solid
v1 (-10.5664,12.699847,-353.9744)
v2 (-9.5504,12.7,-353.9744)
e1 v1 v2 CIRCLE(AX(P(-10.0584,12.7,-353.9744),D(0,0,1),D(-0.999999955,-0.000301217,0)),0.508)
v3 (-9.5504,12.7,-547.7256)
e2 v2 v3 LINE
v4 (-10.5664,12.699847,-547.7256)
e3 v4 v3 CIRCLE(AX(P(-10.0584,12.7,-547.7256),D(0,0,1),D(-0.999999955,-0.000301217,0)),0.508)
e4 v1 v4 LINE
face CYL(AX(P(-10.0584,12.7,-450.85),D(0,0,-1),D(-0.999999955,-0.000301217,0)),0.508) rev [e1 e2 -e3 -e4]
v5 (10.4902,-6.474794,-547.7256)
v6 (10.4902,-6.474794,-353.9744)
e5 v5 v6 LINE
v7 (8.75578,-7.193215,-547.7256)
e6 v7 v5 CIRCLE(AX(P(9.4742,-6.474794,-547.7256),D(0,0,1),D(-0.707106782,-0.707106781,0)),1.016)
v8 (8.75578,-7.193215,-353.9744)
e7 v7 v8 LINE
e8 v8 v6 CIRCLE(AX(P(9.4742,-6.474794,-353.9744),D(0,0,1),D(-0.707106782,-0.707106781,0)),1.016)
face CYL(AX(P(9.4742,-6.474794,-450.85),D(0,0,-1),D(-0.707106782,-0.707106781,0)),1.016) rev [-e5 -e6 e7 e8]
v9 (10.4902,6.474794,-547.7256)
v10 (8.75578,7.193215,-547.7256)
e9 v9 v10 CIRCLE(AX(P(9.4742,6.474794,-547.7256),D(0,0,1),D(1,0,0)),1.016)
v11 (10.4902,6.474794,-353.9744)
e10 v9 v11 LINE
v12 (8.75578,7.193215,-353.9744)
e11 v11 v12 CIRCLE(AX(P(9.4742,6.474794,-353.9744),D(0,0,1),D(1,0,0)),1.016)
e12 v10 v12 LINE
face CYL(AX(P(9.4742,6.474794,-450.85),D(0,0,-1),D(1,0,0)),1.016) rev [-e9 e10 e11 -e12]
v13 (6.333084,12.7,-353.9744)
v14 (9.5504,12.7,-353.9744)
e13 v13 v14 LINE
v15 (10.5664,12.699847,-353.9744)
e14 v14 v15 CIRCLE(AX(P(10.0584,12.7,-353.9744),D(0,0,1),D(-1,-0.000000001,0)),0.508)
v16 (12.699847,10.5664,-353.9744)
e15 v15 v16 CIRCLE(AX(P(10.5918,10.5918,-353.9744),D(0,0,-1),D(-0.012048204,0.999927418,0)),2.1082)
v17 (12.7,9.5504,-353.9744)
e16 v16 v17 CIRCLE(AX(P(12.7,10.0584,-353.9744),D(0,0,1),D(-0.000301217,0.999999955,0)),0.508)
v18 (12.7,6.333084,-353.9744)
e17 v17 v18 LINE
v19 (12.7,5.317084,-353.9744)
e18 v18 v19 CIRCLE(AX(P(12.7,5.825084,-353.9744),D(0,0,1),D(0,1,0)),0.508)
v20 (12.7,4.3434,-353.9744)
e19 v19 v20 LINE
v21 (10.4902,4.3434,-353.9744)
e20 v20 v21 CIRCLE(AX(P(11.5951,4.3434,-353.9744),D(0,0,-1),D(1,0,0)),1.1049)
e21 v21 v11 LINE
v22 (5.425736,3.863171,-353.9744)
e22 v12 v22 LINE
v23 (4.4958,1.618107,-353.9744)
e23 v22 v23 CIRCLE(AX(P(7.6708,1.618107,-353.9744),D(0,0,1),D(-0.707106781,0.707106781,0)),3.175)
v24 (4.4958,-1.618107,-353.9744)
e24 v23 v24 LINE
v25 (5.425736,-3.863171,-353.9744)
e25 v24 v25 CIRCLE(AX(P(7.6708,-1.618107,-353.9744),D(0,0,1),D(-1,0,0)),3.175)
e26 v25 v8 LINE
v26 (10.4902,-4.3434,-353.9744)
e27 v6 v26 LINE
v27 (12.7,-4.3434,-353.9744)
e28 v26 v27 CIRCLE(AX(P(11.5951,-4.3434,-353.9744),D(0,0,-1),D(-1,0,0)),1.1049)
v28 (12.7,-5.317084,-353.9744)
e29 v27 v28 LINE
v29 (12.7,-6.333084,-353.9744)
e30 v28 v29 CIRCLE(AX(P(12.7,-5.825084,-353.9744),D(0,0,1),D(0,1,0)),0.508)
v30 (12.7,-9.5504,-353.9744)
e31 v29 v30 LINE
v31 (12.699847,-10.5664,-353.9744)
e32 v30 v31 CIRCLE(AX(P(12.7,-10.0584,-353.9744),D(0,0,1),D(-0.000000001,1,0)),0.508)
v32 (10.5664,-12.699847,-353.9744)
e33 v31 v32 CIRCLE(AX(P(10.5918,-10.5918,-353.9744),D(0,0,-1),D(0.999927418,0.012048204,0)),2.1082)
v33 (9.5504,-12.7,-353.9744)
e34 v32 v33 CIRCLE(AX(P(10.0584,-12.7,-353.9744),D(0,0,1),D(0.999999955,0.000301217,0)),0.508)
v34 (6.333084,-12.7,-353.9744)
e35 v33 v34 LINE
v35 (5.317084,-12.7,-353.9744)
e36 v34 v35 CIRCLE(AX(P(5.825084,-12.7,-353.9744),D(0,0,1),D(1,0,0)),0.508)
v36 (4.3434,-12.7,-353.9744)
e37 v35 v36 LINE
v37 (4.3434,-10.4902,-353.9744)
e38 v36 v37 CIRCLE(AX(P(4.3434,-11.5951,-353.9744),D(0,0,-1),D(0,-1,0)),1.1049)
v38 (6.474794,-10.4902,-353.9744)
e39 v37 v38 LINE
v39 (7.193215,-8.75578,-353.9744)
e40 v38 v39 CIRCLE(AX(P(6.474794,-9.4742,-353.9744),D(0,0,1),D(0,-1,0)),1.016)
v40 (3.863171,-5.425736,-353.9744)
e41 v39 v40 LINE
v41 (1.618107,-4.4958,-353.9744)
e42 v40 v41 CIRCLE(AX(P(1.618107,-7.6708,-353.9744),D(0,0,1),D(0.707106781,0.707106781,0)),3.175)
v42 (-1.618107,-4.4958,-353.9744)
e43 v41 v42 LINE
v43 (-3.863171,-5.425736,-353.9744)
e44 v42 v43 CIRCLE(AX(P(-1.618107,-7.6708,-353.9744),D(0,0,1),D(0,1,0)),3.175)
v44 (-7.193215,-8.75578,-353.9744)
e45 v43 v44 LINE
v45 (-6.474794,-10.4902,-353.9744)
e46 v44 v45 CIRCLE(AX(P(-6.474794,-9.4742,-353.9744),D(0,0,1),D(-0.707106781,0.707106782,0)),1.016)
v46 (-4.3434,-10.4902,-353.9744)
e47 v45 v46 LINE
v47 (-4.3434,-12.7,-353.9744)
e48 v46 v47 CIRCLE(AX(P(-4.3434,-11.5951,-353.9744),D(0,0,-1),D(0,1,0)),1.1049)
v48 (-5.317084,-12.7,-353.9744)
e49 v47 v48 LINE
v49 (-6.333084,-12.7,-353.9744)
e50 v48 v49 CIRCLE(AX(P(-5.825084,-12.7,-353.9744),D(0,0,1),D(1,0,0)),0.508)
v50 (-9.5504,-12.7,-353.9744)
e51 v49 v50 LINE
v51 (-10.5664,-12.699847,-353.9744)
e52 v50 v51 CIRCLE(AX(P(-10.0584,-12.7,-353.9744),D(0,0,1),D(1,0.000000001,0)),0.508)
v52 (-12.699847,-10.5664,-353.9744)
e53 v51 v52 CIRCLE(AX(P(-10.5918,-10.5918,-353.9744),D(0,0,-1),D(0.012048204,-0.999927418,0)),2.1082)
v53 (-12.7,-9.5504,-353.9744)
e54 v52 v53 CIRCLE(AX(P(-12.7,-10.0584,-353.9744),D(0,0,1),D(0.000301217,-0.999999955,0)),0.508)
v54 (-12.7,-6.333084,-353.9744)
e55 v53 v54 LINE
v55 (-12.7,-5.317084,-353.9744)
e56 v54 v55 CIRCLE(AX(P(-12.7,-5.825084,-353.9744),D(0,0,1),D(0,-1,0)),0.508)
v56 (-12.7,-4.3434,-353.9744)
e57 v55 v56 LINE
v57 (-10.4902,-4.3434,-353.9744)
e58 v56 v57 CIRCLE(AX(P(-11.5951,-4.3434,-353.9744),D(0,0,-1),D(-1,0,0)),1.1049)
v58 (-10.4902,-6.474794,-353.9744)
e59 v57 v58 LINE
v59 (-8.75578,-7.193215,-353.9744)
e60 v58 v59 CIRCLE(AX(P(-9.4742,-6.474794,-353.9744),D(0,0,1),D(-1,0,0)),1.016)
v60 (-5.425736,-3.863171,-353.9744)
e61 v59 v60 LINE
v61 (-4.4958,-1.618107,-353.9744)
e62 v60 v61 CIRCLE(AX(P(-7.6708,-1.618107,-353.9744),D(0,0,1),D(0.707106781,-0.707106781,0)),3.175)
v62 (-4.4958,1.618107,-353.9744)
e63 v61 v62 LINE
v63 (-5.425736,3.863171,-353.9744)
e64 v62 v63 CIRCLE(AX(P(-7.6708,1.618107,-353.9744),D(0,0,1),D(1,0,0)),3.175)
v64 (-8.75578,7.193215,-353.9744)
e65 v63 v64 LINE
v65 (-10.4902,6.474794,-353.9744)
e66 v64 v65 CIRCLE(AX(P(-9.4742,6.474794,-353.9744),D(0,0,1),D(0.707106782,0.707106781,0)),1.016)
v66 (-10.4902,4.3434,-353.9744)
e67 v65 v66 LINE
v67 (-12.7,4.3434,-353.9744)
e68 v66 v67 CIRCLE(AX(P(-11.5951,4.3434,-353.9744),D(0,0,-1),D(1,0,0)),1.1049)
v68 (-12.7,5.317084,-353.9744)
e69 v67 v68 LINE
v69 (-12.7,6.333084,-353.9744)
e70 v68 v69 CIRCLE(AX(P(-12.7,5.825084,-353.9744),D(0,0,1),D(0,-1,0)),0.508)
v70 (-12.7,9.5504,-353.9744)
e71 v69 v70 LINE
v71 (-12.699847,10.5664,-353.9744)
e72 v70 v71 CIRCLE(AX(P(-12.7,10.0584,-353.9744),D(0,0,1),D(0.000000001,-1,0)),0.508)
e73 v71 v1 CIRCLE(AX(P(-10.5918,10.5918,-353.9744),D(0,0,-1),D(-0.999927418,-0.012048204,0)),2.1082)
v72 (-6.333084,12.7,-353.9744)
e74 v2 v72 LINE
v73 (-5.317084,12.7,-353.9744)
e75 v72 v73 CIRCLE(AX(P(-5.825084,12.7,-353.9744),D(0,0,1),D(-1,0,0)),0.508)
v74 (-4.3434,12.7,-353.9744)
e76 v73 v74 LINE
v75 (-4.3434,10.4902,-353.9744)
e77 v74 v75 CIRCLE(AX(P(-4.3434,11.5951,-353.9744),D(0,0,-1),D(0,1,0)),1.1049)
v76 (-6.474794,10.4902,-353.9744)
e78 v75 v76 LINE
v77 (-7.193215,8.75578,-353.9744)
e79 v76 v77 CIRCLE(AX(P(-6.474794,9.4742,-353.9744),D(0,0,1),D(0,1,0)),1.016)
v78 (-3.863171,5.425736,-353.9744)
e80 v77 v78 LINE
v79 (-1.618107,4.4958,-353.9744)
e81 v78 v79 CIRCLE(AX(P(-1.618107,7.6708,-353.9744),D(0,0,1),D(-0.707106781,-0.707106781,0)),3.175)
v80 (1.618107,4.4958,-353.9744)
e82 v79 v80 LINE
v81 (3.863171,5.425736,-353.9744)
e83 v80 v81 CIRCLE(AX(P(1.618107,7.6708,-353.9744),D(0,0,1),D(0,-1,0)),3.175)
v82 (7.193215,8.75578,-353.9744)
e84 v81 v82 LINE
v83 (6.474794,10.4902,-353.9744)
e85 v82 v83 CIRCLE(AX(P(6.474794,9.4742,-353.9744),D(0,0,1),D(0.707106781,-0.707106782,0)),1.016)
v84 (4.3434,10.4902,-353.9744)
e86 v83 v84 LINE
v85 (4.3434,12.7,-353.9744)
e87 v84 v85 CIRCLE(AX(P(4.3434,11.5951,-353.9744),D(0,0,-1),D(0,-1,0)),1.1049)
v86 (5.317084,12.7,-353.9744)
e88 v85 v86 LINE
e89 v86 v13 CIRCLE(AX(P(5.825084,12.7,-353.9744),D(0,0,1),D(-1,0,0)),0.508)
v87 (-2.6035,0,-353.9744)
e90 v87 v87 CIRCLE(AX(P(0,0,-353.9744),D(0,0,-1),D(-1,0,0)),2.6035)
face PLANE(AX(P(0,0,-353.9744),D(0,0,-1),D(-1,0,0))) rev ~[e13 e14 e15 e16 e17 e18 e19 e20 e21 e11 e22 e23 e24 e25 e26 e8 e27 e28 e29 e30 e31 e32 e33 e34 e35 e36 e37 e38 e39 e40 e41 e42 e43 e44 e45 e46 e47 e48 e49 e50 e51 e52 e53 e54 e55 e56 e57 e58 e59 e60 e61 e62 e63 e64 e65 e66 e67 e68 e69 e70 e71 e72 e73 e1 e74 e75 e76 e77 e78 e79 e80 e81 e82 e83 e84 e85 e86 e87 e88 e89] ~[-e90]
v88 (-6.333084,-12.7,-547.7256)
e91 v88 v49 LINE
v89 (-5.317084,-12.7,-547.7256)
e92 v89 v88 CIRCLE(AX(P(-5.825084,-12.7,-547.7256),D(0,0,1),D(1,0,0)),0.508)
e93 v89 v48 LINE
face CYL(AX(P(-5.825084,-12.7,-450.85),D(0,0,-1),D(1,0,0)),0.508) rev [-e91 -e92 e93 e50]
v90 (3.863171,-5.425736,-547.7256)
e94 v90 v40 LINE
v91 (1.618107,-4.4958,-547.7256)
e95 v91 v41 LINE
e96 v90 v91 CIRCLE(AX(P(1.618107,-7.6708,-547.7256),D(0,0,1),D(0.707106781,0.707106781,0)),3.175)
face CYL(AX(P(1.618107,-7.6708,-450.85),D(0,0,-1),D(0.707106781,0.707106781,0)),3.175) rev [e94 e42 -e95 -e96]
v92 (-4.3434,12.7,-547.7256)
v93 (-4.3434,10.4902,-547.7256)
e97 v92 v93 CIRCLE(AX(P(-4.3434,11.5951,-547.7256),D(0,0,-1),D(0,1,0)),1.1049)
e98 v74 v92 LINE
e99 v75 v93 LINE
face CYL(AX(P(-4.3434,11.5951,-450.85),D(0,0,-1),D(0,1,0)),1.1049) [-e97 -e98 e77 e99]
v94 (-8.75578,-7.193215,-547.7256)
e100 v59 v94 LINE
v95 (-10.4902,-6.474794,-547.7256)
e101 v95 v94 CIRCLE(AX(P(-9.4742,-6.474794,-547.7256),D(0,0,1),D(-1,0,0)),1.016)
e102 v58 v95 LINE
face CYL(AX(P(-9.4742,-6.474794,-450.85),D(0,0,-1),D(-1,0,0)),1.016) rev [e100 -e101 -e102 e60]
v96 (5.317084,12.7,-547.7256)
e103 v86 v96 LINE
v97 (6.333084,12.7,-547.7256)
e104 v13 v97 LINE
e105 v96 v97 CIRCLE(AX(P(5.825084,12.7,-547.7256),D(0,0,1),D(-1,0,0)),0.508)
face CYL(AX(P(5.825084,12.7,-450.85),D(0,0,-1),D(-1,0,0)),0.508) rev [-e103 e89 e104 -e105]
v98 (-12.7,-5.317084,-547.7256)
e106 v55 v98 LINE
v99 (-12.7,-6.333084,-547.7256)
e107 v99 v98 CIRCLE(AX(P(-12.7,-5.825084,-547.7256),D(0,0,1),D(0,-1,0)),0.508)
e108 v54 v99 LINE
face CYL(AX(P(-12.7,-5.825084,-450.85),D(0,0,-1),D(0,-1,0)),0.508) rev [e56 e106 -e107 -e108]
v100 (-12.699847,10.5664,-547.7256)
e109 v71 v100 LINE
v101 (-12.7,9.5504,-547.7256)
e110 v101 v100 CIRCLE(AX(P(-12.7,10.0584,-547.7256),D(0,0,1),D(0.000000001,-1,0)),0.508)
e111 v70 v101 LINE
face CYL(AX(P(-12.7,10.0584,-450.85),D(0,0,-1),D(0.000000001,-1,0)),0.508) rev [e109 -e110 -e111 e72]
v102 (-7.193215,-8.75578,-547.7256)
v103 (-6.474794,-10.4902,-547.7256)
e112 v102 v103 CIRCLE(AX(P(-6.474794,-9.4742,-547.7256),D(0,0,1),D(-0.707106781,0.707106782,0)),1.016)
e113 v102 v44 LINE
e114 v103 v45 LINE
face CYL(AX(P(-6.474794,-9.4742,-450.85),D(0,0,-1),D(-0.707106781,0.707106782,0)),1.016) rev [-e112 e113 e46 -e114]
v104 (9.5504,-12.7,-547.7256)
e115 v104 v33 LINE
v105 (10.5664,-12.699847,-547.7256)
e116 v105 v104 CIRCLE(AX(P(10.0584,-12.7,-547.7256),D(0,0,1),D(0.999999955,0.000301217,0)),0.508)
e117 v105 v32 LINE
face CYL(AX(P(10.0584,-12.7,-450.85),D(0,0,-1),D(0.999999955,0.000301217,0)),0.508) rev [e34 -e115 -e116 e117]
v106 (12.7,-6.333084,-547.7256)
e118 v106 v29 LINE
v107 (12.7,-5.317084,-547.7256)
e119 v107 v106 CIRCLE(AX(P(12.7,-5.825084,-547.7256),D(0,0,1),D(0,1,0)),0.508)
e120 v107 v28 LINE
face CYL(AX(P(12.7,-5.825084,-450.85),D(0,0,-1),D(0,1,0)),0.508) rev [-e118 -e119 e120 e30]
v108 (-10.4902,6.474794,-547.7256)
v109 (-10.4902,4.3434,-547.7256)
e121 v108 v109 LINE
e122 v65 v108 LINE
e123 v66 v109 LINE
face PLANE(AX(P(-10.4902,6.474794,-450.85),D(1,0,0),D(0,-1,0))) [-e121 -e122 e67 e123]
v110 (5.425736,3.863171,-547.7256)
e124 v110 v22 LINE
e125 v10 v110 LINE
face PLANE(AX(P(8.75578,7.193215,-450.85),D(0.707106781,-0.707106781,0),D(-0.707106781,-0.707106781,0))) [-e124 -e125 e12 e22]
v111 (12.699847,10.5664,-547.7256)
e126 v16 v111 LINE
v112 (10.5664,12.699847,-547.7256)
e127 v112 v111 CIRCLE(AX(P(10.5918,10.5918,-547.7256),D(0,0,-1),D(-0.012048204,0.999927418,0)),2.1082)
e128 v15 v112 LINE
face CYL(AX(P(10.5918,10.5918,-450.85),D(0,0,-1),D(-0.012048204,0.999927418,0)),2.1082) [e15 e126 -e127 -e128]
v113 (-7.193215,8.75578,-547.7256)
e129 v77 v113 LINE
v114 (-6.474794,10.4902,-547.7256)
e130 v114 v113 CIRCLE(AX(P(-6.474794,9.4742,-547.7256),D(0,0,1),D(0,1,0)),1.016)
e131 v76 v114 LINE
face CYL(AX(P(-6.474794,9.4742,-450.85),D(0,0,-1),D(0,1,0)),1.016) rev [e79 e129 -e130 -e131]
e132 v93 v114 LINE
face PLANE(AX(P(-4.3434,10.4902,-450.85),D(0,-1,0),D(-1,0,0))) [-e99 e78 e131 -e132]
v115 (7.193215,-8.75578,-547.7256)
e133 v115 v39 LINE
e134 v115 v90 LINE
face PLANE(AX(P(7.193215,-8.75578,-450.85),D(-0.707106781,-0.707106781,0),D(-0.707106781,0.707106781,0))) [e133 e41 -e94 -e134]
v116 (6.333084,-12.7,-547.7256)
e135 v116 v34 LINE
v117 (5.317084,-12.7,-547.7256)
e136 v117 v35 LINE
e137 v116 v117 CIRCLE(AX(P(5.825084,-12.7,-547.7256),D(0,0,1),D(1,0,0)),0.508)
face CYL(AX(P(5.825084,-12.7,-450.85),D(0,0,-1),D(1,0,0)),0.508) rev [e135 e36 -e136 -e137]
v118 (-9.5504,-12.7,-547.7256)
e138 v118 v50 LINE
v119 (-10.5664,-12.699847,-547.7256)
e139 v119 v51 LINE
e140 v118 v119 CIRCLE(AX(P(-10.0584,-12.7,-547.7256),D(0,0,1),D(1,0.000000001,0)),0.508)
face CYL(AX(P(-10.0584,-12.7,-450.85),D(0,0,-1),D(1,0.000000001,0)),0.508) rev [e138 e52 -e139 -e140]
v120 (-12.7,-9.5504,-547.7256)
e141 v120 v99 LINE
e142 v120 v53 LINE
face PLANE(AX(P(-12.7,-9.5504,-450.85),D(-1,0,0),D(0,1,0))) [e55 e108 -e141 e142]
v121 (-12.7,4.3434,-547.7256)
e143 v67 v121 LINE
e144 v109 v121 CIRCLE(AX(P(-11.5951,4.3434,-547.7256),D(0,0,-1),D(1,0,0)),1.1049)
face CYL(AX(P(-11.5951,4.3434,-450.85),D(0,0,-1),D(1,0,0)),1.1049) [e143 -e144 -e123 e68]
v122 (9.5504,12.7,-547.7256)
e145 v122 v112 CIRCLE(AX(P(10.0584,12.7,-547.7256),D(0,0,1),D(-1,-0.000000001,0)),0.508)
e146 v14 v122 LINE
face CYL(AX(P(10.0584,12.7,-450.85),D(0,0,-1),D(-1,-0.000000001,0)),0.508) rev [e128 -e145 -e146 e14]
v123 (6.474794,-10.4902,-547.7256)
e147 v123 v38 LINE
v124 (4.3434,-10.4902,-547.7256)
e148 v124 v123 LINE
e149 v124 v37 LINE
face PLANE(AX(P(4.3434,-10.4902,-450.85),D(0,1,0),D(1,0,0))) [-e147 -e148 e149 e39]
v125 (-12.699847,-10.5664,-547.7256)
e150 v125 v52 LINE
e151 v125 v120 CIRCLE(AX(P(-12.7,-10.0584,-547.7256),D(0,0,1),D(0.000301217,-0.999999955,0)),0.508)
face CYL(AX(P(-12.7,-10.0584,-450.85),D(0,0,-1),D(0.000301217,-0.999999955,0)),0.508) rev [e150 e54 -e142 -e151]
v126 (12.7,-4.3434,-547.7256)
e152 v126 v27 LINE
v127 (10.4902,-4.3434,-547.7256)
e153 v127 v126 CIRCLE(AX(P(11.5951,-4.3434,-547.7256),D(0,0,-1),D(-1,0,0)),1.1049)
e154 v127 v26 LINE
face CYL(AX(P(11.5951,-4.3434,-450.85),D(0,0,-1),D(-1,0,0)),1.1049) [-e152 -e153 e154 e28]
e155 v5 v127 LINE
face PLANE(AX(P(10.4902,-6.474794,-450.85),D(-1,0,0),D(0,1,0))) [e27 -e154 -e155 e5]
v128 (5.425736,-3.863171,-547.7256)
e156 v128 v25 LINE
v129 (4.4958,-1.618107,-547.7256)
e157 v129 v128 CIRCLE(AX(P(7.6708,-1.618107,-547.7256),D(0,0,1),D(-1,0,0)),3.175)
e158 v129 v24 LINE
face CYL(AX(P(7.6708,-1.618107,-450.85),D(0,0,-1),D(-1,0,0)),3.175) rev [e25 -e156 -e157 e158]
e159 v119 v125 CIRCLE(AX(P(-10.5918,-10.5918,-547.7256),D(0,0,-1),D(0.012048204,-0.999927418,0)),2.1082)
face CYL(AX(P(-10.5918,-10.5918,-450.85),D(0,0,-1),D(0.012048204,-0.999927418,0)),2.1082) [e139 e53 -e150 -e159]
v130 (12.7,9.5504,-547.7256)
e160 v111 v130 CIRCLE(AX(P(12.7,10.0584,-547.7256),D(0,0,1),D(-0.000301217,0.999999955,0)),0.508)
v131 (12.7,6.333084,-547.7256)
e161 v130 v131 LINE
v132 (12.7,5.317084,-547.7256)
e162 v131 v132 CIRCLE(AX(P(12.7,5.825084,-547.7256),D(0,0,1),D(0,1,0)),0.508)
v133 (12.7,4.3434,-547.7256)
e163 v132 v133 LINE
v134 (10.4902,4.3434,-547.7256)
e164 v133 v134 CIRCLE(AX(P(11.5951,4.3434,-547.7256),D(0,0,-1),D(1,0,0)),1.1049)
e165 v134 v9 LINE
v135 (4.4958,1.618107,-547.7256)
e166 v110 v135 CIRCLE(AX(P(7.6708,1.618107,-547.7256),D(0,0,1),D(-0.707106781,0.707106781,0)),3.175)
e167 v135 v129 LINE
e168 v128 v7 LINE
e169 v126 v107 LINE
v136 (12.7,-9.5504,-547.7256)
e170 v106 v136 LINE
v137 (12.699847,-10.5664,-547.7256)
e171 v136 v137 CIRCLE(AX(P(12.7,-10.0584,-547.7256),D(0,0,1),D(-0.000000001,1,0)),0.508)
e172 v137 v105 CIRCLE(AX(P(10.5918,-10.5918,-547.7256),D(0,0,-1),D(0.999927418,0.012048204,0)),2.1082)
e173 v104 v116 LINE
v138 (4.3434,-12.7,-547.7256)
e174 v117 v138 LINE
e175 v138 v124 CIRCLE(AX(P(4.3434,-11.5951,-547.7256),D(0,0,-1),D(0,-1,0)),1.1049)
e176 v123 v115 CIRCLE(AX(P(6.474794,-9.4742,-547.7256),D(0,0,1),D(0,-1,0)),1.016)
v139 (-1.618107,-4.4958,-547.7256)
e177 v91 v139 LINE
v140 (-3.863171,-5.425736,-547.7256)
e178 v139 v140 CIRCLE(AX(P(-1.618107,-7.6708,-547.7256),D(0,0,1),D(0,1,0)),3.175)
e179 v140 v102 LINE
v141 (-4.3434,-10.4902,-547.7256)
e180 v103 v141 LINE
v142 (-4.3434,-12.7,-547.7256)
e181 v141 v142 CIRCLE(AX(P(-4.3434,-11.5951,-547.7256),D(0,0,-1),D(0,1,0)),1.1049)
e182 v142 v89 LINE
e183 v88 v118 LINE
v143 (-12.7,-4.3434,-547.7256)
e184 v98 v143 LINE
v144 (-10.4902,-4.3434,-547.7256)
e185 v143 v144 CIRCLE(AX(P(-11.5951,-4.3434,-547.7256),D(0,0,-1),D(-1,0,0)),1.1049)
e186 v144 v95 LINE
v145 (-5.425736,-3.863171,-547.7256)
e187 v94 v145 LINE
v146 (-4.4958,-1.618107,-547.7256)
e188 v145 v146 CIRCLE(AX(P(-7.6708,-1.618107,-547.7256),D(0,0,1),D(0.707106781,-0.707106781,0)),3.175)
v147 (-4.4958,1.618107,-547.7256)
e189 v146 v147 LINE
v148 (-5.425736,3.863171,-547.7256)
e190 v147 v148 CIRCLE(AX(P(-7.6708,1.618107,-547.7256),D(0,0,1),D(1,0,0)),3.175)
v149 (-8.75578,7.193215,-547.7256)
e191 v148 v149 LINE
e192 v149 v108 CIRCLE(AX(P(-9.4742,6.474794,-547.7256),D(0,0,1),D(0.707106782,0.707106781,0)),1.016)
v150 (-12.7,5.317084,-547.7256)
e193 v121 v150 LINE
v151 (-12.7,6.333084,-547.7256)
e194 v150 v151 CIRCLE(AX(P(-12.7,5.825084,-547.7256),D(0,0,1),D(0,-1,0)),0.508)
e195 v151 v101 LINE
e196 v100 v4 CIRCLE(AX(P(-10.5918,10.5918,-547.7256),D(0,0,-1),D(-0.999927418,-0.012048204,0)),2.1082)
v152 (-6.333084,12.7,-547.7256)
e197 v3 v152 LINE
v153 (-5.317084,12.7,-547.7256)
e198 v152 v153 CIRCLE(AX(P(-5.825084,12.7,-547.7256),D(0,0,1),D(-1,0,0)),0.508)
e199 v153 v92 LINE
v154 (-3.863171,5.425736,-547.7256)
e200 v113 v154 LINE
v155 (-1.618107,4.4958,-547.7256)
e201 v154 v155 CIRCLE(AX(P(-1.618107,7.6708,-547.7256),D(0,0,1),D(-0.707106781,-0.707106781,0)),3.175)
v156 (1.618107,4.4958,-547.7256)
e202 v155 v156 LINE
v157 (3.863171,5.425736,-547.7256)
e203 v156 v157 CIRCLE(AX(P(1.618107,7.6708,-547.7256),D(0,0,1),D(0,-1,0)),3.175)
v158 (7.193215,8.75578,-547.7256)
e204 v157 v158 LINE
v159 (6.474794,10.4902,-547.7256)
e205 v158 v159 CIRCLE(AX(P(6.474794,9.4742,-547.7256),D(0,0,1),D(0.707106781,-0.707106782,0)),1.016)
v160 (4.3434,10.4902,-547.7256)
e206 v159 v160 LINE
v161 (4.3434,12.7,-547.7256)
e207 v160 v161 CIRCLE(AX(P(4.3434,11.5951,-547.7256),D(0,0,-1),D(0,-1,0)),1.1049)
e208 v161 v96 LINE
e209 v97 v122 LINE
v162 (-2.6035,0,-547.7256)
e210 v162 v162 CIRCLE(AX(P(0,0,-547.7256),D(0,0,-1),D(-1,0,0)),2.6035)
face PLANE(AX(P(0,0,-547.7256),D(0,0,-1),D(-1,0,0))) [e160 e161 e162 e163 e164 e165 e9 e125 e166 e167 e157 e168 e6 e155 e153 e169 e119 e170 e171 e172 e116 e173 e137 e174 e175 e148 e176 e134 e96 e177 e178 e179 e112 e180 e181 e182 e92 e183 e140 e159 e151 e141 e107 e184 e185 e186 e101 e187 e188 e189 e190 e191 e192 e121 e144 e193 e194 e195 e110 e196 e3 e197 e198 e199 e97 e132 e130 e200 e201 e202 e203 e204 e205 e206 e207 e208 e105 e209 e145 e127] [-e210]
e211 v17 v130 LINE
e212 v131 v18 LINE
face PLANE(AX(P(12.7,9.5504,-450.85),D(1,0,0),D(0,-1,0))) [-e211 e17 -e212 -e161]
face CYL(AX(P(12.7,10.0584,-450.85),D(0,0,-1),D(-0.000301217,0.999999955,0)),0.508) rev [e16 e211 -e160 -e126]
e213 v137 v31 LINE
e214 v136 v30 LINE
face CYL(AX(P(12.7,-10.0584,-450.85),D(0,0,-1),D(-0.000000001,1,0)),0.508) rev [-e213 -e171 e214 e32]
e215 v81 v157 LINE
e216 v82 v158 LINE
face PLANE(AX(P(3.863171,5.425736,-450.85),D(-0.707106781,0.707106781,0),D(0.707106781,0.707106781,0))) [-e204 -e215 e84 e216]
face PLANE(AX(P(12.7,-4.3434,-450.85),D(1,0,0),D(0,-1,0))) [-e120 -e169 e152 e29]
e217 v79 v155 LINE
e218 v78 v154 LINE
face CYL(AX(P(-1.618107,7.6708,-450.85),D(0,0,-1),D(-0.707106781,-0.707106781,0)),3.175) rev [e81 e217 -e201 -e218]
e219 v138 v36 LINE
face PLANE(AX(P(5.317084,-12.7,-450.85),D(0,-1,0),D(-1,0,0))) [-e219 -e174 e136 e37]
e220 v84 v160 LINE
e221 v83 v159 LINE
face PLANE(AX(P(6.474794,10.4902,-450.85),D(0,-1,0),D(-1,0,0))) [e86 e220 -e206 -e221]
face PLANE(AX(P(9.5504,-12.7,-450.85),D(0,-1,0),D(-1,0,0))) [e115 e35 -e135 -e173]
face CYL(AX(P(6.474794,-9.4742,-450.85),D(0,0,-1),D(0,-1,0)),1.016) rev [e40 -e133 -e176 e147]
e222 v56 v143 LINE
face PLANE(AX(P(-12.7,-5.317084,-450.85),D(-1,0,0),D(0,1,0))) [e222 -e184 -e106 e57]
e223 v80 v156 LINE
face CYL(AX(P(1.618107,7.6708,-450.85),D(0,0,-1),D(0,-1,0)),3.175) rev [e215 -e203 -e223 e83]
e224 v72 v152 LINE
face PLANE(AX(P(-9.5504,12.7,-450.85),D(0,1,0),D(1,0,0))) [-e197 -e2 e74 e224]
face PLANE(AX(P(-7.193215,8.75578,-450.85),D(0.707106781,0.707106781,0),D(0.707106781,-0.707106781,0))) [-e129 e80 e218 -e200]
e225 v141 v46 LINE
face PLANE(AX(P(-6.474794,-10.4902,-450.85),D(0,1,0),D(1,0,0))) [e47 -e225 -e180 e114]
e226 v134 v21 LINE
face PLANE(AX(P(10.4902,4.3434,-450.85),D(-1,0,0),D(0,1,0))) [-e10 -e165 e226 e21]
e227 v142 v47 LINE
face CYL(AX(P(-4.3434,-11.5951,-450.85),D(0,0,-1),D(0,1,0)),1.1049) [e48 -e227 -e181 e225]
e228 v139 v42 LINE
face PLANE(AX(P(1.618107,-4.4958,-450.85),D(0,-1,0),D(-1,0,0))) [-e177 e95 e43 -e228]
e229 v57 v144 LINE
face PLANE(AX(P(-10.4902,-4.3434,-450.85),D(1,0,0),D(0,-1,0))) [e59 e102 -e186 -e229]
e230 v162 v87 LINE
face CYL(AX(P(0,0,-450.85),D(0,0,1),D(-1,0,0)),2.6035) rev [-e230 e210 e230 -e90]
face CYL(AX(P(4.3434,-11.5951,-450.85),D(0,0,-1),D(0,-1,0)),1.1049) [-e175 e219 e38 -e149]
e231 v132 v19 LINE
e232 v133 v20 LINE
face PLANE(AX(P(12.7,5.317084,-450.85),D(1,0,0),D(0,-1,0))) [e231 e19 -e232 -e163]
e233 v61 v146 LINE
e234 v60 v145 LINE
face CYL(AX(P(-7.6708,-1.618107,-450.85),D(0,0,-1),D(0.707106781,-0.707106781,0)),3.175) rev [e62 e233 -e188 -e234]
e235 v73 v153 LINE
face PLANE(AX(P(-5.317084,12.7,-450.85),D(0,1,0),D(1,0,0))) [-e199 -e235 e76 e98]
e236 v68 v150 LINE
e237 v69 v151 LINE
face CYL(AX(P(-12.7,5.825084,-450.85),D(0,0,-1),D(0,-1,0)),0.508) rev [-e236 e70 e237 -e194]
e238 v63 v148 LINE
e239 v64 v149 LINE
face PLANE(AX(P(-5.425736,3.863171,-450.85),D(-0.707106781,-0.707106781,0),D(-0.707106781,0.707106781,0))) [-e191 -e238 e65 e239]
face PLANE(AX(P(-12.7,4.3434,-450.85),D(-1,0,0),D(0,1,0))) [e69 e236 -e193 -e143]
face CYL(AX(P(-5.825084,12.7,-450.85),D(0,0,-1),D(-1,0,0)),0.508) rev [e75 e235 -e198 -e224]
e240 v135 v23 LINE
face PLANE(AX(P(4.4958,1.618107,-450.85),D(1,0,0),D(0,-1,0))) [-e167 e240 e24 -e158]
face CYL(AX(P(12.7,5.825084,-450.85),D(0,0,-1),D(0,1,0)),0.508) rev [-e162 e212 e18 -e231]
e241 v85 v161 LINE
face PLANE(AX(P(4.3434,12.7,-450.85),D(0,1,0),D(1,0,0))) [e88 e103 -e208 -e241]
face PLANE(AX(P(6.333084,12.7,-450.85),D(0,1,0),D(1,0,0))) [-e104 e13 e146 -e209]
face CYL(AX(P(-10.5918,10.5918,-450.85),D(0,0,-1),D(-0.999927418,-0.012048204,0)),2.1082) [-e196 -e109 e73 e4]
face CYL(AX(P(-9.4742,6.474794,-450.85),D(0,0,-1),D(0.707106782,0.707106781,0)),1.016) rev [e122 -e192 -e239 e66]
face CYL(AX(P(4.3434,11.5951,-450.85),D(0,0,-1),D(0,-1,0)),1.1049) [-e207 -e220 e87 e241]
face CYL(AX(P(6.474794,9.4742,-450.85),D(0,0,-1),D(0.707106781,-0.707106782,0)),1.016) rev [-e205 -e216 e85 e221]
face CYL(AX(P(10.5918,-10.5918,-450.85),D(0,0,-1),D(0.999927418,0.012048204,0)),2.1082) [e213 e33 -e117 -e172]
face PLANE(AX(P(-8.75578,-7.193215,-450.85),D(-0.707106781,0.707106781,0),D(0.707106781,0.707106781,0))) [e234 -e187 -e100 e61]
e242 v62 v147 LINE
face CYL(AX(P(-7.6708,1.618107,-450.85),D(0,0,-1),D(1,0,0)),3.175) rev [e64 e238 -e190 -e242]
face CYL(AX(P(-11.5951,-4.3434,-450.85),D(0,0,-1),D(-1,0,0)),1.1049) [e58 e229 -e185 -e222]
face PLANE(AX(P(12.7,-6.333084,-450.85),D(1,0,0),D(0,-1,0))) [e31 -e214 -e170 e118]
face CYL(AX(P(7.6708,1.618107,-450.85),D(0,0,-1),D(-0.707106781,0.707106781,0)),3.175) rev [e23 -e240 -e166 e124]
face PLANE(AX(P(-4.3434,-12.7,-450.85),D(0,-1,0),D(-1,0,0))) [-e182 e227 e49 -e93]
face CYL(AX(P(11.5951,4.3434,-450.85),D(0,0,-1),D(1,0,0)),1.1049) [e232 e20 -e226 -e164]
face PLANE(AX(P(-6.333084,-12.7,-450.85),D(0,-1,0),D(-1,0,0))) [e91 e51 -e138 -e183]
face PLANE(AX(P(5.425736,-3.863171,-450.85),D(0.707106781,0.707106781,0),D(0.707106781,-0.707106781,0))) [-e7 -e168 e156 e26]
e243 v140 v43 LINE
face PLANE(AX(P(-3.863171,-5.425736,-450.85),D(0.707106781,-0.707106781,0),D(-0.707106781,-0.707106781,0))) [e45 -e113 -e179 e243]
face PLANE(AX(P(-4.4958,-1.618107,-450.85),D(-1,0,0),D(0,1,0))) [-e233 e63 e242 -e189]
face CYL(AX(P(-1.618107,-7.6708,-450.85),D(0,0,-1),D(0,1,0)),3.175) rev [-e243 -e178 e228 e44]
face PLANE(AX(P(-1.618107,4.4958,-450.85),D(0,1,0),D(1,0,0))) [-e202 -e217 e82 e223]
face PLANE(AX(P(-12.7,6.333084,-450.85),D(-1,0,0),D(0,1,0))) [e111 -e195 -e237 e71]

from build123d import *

# Parameters (mm, degrees)
SKETCH1_R           = 2.6035
BOSS_EXTRUDE1_DEPTH = 96.8756


with BuildPart() as part:
    # Sketch1 → Boss-Extrude1 (new body, symmetric)
    with BuildSketch(Plane(origin=(0, 0, -450.85), x_dir=(-1, 0, 0), z_dir=(0, 0, -1))):
        with BuildLine():
            Line((12.7, -9.5504), (12.7, -6.3330836))
            ThreePointArc((12.7, -6.3330836), (12.192, -5.8250836), (12.7, -5.3170836))
            Line((12.7, -5.3170836), (12.7, -4.3434))
            ThreePointArc((12.7, -4.3434), (11.5951, -3.2385), (10.4902, -4.3434))
            Line((10.4902, -4.3434), (10.4902, -6.474794456))
            ThreePointArc((10.4902, -6.474794456), (9.863006367, -7.413456061), (8.75577951, -7.193214945))
            Line((8.75577951, -7.193214945), (5.42573597, -3.863171405))
            ThreePointArc((5.42573597, -3.863171405), (4.737482484, -2.833127272), (4.4958, -1.618107374))
            Line((4.4958, -1.618107374), (4.4958, 1.618107374))
            ThreePointArc((4.4958, 1.618107374), (4.737482484, 2.833127272), (5.42573597, 3.863171405))
            Line((5.42573597, 3.863171405), (8.75577951, 7.193214945))
            ThreePointArc((8.75577951, 7.193214945), (9.863006367, 7.413456061), (10.4902, 6.474794456))
            Line((10.4902, 6.474794456), (10.4902, 4.343399971))
            ThreePointArc((10.4902, 4.343399971), (11.5951, 3.238499971), (12.7, 4.343399971))
            Line((12.7, 4.343399971), (12.7, 5.3170836))
            ThreePointArc((12.7, 5.3170836), (12.192, 5.8250836), (12.7, 6.3330836))
            Line((12.7, 6.3330836), (12.7, 9.5504))
            ThreePointArc((12.7, 9.5504), (12.192000006, 10.058323491), (12.699846982, 10.566399977))
            ThreePointArc((12.699846982, 10.566399977), (12.082522516, 12.082522516), (10.566399977, 12.699846982))
            ThreePointArc((10.566399977, 12.699846982), (10.058323491, 12.192000006), (9.5504, 12.7))
            Line((9.5504, 12.7), (6.3330836, 12.7))
            ThreePointArc((6.3330836, 12.7), (5.8250836, 12.192), (5.3170836, 12.7))
            Line((5.3170836, 12.7), (4.3434, 12.7))
            ThreePointArc((4.3434, 12.7), (3.2385, 11.5951), (4.3434, 10.4902))
            Line((4.3434, 10.4902), (6.474794456, 10.4902))
            ThreePointArc((6.474794456, 10.4902), (7.413456061, 9.863006367), (7.193214945, 8.75577951))
            Line((7.193214945, 8.75577951), (3.863171405, 5.42573597))
            ThreePointArc((3.863171405, 5.42573597), (2.833127272, 4.737482484), (1.618107374, 4.4958))
            Line((1.618107374, 4.4958), (-1.618107374, 4.4958))
            ThreePointArc((-1.618107374, 4.4958), (-2.833127272, 4.737482484), (-3.863171405, 5.42573597))
            Line((-3.863171405, 5.42573597), (-7.193214945, 8.75577951))
            ThreePointArc((-7.193214945, 8.75577951), (-7.413456061, 9.863006367), (-6.474794456, 10.4902))
            Line((-6.474794456, 10.4902), (-4.343399971, 10.4902))
            ThreePointArc((-4.343399971, 10.4902), (-3.238499971, 11.5951), (-4.343399971, 12.7))
            Line((-4.343399971, 12.7), (-5.3170836, 12.7))
            ThreePointArc((-5.3170836, 12.7), (-5.8250836, 12.192), (-6.3330836, 12.7))
            Line((-6.3330836, 12.7), (-9.5504, 12.7))
            ThreePointArc((-9.5504, 12.7), (-10.058323491, 12.192000006), (-10.566399977, 12.699846982))
            ThreePointArc((-10.566399977, 12.699846982), (-12.082522516, 12.082522516), (-12.699846982, 10.566399977))
            ThreePointArc((-12.699846982, 10.566399977), (-12.192000006, 10.058323491), (-12.7, 9.5504))
            Line((-12.7, 9.5504), (-12.7, 6.3330836))
            ThreePointArc((-12.7, 6.3330836), (-12.192, 5.8250836), (-12.7, 5.3170836))
            Line((-12.7, 5.3170836), (-12.7, 4.3434))
            ThreePointArc((-12.7, 4.3434), (-11.5951, 3.2385), (-10.4902, 4.3434))
            Line((-10.4902, 4.3434), (-10.4902, 6.474794456))
            ThreePointArc((-10.4902, 6.474794456), (-9.863006367, 7.413456061), (-8.75577951, 7.193214945))
            Line((-8.75577951, 7.193214945), (-5.42573597, 3.863171405))
            ThreePointArc((-5.42573597, 3.863171405), (-4.737482484, 2.833127272), (-4.4958, 1.618107374))
            Line((-4.4958, 1.618107374), (-4.4958, -1.618107374))
            ThreePointArc((-4.4958, -1.618107374), (-4.737482484, -2.833127272), (-5.42573597, -3.863171405))
            Line((-5.42573597, -3.863171405), (-8.75577951, -7.193214945))
            ThreePointArc((-8.75577951, -7.193214945), (-9.863006367, -7.413456061), (-10.4902, -6.474794456))
            Line((-10.4902, -6.474794456), (-10.4902, -4.343399971))
            ThreePointArc((-10.4902, -4.343399971), (-11.5951, -3.238499971), (-12.7, -4.343399971))
            Line((-12.7, -4.343399971), (-12.7, -5.3170836))
            ThreePointArc((-12.7, -5.3170836), (-12.192, -5.8250836), (-12.7, -6.3330836))
            Line((-12.7, -6.3330836), (-12.7, -9.5504))
            ThreePointArc((-12.7, -9.5504), (-12.192000006, -10.058323491), (-12.699846982, -10.566399977))
            ThreePointArc((-12.699846982, -10.566399977), (-12.082522516, -12.082522516), (-10.566399977, -12.699846982))
            ThreePointArc((-10.566399977, -12.699846982), (-10.058323491, -12.192000006), (-9.5504, -12.7))
            Line((-9.5504, -12.7), (-6.3330836, -12.7))
            ThreePointArc((-6.3330836, -12.7), (-5.8250836, -12.192), (-5.3170836, -12.7))
            Line((-5.3170836, -12.7), (-4.3434, -12.7))
            ThreePointArc((-4.3434, -12.7), (-3.2385, -11.5951), (-4.3434, -10.4902))
            Line((-4.3434, -10.4902), (-6.474794456, -10.4902))
            ThreePointArc((-6.474794456, -10.4902), (-7.413456061, -9.863006367), (-7.193214945, -8.75577951))
            Line((-7.193214945, -8.75577951), (-3.863171405, -5.42573597))
            ThreePointArc((-3.863171405, -5.42573597), (-2.833127272, -4.737482484), (-1.618107374, -4.4958))
            Line((-1.618107374, -4.4958), (1.618107374, -4.4958))
            ThreePointArc((1.618107374, -4.4958), (2.833127272, -4.737482484), (3.863171405, -5.42573597))
            Line((3.863171405, -5.42573597), (7.193214945, -8.75577951))
            ThreePointArc((7.193214945, -8.75577951), (7.413456061, -9.863006367), (6.474794456, -10.4902))
            Line((6.474794456, -10.4902), (4.343399971, -10.4902))
            ThreePointArc((4.343399971, -10.4902), (3.238499971, -11.5951), (4.343399971, -12.7))
            Line((4.343399971, -12.7), (5.3170836, -12.7))
            ThreePointArc((5.3170836, -12.7), (5.8250836, -12.192), (6.3330836, -12.7))
            Line((6.3330836, -12.7), (9.5504, -12.7))
            ThreePointArc((9.5504, -12.7), (10.058323491, -12.192000006), (10.566399977, -12.699846982))
            ThreePointArc((10.566399977, -12.699846982), (12.082522516, -12.082522516), (12.699846982, -10.566399977))
            ThreePointArc((12.699846982, -10.566399977), (12.192000006, -10.058323491), (12.7, -9.5504))
        make_face()
        Circle(SKETCH1_R, mode=Mode.SUBTRACT)
    extrude(amount=BOSS_EXTRUDE1_DEPTH, both=True)


solid = part.part
